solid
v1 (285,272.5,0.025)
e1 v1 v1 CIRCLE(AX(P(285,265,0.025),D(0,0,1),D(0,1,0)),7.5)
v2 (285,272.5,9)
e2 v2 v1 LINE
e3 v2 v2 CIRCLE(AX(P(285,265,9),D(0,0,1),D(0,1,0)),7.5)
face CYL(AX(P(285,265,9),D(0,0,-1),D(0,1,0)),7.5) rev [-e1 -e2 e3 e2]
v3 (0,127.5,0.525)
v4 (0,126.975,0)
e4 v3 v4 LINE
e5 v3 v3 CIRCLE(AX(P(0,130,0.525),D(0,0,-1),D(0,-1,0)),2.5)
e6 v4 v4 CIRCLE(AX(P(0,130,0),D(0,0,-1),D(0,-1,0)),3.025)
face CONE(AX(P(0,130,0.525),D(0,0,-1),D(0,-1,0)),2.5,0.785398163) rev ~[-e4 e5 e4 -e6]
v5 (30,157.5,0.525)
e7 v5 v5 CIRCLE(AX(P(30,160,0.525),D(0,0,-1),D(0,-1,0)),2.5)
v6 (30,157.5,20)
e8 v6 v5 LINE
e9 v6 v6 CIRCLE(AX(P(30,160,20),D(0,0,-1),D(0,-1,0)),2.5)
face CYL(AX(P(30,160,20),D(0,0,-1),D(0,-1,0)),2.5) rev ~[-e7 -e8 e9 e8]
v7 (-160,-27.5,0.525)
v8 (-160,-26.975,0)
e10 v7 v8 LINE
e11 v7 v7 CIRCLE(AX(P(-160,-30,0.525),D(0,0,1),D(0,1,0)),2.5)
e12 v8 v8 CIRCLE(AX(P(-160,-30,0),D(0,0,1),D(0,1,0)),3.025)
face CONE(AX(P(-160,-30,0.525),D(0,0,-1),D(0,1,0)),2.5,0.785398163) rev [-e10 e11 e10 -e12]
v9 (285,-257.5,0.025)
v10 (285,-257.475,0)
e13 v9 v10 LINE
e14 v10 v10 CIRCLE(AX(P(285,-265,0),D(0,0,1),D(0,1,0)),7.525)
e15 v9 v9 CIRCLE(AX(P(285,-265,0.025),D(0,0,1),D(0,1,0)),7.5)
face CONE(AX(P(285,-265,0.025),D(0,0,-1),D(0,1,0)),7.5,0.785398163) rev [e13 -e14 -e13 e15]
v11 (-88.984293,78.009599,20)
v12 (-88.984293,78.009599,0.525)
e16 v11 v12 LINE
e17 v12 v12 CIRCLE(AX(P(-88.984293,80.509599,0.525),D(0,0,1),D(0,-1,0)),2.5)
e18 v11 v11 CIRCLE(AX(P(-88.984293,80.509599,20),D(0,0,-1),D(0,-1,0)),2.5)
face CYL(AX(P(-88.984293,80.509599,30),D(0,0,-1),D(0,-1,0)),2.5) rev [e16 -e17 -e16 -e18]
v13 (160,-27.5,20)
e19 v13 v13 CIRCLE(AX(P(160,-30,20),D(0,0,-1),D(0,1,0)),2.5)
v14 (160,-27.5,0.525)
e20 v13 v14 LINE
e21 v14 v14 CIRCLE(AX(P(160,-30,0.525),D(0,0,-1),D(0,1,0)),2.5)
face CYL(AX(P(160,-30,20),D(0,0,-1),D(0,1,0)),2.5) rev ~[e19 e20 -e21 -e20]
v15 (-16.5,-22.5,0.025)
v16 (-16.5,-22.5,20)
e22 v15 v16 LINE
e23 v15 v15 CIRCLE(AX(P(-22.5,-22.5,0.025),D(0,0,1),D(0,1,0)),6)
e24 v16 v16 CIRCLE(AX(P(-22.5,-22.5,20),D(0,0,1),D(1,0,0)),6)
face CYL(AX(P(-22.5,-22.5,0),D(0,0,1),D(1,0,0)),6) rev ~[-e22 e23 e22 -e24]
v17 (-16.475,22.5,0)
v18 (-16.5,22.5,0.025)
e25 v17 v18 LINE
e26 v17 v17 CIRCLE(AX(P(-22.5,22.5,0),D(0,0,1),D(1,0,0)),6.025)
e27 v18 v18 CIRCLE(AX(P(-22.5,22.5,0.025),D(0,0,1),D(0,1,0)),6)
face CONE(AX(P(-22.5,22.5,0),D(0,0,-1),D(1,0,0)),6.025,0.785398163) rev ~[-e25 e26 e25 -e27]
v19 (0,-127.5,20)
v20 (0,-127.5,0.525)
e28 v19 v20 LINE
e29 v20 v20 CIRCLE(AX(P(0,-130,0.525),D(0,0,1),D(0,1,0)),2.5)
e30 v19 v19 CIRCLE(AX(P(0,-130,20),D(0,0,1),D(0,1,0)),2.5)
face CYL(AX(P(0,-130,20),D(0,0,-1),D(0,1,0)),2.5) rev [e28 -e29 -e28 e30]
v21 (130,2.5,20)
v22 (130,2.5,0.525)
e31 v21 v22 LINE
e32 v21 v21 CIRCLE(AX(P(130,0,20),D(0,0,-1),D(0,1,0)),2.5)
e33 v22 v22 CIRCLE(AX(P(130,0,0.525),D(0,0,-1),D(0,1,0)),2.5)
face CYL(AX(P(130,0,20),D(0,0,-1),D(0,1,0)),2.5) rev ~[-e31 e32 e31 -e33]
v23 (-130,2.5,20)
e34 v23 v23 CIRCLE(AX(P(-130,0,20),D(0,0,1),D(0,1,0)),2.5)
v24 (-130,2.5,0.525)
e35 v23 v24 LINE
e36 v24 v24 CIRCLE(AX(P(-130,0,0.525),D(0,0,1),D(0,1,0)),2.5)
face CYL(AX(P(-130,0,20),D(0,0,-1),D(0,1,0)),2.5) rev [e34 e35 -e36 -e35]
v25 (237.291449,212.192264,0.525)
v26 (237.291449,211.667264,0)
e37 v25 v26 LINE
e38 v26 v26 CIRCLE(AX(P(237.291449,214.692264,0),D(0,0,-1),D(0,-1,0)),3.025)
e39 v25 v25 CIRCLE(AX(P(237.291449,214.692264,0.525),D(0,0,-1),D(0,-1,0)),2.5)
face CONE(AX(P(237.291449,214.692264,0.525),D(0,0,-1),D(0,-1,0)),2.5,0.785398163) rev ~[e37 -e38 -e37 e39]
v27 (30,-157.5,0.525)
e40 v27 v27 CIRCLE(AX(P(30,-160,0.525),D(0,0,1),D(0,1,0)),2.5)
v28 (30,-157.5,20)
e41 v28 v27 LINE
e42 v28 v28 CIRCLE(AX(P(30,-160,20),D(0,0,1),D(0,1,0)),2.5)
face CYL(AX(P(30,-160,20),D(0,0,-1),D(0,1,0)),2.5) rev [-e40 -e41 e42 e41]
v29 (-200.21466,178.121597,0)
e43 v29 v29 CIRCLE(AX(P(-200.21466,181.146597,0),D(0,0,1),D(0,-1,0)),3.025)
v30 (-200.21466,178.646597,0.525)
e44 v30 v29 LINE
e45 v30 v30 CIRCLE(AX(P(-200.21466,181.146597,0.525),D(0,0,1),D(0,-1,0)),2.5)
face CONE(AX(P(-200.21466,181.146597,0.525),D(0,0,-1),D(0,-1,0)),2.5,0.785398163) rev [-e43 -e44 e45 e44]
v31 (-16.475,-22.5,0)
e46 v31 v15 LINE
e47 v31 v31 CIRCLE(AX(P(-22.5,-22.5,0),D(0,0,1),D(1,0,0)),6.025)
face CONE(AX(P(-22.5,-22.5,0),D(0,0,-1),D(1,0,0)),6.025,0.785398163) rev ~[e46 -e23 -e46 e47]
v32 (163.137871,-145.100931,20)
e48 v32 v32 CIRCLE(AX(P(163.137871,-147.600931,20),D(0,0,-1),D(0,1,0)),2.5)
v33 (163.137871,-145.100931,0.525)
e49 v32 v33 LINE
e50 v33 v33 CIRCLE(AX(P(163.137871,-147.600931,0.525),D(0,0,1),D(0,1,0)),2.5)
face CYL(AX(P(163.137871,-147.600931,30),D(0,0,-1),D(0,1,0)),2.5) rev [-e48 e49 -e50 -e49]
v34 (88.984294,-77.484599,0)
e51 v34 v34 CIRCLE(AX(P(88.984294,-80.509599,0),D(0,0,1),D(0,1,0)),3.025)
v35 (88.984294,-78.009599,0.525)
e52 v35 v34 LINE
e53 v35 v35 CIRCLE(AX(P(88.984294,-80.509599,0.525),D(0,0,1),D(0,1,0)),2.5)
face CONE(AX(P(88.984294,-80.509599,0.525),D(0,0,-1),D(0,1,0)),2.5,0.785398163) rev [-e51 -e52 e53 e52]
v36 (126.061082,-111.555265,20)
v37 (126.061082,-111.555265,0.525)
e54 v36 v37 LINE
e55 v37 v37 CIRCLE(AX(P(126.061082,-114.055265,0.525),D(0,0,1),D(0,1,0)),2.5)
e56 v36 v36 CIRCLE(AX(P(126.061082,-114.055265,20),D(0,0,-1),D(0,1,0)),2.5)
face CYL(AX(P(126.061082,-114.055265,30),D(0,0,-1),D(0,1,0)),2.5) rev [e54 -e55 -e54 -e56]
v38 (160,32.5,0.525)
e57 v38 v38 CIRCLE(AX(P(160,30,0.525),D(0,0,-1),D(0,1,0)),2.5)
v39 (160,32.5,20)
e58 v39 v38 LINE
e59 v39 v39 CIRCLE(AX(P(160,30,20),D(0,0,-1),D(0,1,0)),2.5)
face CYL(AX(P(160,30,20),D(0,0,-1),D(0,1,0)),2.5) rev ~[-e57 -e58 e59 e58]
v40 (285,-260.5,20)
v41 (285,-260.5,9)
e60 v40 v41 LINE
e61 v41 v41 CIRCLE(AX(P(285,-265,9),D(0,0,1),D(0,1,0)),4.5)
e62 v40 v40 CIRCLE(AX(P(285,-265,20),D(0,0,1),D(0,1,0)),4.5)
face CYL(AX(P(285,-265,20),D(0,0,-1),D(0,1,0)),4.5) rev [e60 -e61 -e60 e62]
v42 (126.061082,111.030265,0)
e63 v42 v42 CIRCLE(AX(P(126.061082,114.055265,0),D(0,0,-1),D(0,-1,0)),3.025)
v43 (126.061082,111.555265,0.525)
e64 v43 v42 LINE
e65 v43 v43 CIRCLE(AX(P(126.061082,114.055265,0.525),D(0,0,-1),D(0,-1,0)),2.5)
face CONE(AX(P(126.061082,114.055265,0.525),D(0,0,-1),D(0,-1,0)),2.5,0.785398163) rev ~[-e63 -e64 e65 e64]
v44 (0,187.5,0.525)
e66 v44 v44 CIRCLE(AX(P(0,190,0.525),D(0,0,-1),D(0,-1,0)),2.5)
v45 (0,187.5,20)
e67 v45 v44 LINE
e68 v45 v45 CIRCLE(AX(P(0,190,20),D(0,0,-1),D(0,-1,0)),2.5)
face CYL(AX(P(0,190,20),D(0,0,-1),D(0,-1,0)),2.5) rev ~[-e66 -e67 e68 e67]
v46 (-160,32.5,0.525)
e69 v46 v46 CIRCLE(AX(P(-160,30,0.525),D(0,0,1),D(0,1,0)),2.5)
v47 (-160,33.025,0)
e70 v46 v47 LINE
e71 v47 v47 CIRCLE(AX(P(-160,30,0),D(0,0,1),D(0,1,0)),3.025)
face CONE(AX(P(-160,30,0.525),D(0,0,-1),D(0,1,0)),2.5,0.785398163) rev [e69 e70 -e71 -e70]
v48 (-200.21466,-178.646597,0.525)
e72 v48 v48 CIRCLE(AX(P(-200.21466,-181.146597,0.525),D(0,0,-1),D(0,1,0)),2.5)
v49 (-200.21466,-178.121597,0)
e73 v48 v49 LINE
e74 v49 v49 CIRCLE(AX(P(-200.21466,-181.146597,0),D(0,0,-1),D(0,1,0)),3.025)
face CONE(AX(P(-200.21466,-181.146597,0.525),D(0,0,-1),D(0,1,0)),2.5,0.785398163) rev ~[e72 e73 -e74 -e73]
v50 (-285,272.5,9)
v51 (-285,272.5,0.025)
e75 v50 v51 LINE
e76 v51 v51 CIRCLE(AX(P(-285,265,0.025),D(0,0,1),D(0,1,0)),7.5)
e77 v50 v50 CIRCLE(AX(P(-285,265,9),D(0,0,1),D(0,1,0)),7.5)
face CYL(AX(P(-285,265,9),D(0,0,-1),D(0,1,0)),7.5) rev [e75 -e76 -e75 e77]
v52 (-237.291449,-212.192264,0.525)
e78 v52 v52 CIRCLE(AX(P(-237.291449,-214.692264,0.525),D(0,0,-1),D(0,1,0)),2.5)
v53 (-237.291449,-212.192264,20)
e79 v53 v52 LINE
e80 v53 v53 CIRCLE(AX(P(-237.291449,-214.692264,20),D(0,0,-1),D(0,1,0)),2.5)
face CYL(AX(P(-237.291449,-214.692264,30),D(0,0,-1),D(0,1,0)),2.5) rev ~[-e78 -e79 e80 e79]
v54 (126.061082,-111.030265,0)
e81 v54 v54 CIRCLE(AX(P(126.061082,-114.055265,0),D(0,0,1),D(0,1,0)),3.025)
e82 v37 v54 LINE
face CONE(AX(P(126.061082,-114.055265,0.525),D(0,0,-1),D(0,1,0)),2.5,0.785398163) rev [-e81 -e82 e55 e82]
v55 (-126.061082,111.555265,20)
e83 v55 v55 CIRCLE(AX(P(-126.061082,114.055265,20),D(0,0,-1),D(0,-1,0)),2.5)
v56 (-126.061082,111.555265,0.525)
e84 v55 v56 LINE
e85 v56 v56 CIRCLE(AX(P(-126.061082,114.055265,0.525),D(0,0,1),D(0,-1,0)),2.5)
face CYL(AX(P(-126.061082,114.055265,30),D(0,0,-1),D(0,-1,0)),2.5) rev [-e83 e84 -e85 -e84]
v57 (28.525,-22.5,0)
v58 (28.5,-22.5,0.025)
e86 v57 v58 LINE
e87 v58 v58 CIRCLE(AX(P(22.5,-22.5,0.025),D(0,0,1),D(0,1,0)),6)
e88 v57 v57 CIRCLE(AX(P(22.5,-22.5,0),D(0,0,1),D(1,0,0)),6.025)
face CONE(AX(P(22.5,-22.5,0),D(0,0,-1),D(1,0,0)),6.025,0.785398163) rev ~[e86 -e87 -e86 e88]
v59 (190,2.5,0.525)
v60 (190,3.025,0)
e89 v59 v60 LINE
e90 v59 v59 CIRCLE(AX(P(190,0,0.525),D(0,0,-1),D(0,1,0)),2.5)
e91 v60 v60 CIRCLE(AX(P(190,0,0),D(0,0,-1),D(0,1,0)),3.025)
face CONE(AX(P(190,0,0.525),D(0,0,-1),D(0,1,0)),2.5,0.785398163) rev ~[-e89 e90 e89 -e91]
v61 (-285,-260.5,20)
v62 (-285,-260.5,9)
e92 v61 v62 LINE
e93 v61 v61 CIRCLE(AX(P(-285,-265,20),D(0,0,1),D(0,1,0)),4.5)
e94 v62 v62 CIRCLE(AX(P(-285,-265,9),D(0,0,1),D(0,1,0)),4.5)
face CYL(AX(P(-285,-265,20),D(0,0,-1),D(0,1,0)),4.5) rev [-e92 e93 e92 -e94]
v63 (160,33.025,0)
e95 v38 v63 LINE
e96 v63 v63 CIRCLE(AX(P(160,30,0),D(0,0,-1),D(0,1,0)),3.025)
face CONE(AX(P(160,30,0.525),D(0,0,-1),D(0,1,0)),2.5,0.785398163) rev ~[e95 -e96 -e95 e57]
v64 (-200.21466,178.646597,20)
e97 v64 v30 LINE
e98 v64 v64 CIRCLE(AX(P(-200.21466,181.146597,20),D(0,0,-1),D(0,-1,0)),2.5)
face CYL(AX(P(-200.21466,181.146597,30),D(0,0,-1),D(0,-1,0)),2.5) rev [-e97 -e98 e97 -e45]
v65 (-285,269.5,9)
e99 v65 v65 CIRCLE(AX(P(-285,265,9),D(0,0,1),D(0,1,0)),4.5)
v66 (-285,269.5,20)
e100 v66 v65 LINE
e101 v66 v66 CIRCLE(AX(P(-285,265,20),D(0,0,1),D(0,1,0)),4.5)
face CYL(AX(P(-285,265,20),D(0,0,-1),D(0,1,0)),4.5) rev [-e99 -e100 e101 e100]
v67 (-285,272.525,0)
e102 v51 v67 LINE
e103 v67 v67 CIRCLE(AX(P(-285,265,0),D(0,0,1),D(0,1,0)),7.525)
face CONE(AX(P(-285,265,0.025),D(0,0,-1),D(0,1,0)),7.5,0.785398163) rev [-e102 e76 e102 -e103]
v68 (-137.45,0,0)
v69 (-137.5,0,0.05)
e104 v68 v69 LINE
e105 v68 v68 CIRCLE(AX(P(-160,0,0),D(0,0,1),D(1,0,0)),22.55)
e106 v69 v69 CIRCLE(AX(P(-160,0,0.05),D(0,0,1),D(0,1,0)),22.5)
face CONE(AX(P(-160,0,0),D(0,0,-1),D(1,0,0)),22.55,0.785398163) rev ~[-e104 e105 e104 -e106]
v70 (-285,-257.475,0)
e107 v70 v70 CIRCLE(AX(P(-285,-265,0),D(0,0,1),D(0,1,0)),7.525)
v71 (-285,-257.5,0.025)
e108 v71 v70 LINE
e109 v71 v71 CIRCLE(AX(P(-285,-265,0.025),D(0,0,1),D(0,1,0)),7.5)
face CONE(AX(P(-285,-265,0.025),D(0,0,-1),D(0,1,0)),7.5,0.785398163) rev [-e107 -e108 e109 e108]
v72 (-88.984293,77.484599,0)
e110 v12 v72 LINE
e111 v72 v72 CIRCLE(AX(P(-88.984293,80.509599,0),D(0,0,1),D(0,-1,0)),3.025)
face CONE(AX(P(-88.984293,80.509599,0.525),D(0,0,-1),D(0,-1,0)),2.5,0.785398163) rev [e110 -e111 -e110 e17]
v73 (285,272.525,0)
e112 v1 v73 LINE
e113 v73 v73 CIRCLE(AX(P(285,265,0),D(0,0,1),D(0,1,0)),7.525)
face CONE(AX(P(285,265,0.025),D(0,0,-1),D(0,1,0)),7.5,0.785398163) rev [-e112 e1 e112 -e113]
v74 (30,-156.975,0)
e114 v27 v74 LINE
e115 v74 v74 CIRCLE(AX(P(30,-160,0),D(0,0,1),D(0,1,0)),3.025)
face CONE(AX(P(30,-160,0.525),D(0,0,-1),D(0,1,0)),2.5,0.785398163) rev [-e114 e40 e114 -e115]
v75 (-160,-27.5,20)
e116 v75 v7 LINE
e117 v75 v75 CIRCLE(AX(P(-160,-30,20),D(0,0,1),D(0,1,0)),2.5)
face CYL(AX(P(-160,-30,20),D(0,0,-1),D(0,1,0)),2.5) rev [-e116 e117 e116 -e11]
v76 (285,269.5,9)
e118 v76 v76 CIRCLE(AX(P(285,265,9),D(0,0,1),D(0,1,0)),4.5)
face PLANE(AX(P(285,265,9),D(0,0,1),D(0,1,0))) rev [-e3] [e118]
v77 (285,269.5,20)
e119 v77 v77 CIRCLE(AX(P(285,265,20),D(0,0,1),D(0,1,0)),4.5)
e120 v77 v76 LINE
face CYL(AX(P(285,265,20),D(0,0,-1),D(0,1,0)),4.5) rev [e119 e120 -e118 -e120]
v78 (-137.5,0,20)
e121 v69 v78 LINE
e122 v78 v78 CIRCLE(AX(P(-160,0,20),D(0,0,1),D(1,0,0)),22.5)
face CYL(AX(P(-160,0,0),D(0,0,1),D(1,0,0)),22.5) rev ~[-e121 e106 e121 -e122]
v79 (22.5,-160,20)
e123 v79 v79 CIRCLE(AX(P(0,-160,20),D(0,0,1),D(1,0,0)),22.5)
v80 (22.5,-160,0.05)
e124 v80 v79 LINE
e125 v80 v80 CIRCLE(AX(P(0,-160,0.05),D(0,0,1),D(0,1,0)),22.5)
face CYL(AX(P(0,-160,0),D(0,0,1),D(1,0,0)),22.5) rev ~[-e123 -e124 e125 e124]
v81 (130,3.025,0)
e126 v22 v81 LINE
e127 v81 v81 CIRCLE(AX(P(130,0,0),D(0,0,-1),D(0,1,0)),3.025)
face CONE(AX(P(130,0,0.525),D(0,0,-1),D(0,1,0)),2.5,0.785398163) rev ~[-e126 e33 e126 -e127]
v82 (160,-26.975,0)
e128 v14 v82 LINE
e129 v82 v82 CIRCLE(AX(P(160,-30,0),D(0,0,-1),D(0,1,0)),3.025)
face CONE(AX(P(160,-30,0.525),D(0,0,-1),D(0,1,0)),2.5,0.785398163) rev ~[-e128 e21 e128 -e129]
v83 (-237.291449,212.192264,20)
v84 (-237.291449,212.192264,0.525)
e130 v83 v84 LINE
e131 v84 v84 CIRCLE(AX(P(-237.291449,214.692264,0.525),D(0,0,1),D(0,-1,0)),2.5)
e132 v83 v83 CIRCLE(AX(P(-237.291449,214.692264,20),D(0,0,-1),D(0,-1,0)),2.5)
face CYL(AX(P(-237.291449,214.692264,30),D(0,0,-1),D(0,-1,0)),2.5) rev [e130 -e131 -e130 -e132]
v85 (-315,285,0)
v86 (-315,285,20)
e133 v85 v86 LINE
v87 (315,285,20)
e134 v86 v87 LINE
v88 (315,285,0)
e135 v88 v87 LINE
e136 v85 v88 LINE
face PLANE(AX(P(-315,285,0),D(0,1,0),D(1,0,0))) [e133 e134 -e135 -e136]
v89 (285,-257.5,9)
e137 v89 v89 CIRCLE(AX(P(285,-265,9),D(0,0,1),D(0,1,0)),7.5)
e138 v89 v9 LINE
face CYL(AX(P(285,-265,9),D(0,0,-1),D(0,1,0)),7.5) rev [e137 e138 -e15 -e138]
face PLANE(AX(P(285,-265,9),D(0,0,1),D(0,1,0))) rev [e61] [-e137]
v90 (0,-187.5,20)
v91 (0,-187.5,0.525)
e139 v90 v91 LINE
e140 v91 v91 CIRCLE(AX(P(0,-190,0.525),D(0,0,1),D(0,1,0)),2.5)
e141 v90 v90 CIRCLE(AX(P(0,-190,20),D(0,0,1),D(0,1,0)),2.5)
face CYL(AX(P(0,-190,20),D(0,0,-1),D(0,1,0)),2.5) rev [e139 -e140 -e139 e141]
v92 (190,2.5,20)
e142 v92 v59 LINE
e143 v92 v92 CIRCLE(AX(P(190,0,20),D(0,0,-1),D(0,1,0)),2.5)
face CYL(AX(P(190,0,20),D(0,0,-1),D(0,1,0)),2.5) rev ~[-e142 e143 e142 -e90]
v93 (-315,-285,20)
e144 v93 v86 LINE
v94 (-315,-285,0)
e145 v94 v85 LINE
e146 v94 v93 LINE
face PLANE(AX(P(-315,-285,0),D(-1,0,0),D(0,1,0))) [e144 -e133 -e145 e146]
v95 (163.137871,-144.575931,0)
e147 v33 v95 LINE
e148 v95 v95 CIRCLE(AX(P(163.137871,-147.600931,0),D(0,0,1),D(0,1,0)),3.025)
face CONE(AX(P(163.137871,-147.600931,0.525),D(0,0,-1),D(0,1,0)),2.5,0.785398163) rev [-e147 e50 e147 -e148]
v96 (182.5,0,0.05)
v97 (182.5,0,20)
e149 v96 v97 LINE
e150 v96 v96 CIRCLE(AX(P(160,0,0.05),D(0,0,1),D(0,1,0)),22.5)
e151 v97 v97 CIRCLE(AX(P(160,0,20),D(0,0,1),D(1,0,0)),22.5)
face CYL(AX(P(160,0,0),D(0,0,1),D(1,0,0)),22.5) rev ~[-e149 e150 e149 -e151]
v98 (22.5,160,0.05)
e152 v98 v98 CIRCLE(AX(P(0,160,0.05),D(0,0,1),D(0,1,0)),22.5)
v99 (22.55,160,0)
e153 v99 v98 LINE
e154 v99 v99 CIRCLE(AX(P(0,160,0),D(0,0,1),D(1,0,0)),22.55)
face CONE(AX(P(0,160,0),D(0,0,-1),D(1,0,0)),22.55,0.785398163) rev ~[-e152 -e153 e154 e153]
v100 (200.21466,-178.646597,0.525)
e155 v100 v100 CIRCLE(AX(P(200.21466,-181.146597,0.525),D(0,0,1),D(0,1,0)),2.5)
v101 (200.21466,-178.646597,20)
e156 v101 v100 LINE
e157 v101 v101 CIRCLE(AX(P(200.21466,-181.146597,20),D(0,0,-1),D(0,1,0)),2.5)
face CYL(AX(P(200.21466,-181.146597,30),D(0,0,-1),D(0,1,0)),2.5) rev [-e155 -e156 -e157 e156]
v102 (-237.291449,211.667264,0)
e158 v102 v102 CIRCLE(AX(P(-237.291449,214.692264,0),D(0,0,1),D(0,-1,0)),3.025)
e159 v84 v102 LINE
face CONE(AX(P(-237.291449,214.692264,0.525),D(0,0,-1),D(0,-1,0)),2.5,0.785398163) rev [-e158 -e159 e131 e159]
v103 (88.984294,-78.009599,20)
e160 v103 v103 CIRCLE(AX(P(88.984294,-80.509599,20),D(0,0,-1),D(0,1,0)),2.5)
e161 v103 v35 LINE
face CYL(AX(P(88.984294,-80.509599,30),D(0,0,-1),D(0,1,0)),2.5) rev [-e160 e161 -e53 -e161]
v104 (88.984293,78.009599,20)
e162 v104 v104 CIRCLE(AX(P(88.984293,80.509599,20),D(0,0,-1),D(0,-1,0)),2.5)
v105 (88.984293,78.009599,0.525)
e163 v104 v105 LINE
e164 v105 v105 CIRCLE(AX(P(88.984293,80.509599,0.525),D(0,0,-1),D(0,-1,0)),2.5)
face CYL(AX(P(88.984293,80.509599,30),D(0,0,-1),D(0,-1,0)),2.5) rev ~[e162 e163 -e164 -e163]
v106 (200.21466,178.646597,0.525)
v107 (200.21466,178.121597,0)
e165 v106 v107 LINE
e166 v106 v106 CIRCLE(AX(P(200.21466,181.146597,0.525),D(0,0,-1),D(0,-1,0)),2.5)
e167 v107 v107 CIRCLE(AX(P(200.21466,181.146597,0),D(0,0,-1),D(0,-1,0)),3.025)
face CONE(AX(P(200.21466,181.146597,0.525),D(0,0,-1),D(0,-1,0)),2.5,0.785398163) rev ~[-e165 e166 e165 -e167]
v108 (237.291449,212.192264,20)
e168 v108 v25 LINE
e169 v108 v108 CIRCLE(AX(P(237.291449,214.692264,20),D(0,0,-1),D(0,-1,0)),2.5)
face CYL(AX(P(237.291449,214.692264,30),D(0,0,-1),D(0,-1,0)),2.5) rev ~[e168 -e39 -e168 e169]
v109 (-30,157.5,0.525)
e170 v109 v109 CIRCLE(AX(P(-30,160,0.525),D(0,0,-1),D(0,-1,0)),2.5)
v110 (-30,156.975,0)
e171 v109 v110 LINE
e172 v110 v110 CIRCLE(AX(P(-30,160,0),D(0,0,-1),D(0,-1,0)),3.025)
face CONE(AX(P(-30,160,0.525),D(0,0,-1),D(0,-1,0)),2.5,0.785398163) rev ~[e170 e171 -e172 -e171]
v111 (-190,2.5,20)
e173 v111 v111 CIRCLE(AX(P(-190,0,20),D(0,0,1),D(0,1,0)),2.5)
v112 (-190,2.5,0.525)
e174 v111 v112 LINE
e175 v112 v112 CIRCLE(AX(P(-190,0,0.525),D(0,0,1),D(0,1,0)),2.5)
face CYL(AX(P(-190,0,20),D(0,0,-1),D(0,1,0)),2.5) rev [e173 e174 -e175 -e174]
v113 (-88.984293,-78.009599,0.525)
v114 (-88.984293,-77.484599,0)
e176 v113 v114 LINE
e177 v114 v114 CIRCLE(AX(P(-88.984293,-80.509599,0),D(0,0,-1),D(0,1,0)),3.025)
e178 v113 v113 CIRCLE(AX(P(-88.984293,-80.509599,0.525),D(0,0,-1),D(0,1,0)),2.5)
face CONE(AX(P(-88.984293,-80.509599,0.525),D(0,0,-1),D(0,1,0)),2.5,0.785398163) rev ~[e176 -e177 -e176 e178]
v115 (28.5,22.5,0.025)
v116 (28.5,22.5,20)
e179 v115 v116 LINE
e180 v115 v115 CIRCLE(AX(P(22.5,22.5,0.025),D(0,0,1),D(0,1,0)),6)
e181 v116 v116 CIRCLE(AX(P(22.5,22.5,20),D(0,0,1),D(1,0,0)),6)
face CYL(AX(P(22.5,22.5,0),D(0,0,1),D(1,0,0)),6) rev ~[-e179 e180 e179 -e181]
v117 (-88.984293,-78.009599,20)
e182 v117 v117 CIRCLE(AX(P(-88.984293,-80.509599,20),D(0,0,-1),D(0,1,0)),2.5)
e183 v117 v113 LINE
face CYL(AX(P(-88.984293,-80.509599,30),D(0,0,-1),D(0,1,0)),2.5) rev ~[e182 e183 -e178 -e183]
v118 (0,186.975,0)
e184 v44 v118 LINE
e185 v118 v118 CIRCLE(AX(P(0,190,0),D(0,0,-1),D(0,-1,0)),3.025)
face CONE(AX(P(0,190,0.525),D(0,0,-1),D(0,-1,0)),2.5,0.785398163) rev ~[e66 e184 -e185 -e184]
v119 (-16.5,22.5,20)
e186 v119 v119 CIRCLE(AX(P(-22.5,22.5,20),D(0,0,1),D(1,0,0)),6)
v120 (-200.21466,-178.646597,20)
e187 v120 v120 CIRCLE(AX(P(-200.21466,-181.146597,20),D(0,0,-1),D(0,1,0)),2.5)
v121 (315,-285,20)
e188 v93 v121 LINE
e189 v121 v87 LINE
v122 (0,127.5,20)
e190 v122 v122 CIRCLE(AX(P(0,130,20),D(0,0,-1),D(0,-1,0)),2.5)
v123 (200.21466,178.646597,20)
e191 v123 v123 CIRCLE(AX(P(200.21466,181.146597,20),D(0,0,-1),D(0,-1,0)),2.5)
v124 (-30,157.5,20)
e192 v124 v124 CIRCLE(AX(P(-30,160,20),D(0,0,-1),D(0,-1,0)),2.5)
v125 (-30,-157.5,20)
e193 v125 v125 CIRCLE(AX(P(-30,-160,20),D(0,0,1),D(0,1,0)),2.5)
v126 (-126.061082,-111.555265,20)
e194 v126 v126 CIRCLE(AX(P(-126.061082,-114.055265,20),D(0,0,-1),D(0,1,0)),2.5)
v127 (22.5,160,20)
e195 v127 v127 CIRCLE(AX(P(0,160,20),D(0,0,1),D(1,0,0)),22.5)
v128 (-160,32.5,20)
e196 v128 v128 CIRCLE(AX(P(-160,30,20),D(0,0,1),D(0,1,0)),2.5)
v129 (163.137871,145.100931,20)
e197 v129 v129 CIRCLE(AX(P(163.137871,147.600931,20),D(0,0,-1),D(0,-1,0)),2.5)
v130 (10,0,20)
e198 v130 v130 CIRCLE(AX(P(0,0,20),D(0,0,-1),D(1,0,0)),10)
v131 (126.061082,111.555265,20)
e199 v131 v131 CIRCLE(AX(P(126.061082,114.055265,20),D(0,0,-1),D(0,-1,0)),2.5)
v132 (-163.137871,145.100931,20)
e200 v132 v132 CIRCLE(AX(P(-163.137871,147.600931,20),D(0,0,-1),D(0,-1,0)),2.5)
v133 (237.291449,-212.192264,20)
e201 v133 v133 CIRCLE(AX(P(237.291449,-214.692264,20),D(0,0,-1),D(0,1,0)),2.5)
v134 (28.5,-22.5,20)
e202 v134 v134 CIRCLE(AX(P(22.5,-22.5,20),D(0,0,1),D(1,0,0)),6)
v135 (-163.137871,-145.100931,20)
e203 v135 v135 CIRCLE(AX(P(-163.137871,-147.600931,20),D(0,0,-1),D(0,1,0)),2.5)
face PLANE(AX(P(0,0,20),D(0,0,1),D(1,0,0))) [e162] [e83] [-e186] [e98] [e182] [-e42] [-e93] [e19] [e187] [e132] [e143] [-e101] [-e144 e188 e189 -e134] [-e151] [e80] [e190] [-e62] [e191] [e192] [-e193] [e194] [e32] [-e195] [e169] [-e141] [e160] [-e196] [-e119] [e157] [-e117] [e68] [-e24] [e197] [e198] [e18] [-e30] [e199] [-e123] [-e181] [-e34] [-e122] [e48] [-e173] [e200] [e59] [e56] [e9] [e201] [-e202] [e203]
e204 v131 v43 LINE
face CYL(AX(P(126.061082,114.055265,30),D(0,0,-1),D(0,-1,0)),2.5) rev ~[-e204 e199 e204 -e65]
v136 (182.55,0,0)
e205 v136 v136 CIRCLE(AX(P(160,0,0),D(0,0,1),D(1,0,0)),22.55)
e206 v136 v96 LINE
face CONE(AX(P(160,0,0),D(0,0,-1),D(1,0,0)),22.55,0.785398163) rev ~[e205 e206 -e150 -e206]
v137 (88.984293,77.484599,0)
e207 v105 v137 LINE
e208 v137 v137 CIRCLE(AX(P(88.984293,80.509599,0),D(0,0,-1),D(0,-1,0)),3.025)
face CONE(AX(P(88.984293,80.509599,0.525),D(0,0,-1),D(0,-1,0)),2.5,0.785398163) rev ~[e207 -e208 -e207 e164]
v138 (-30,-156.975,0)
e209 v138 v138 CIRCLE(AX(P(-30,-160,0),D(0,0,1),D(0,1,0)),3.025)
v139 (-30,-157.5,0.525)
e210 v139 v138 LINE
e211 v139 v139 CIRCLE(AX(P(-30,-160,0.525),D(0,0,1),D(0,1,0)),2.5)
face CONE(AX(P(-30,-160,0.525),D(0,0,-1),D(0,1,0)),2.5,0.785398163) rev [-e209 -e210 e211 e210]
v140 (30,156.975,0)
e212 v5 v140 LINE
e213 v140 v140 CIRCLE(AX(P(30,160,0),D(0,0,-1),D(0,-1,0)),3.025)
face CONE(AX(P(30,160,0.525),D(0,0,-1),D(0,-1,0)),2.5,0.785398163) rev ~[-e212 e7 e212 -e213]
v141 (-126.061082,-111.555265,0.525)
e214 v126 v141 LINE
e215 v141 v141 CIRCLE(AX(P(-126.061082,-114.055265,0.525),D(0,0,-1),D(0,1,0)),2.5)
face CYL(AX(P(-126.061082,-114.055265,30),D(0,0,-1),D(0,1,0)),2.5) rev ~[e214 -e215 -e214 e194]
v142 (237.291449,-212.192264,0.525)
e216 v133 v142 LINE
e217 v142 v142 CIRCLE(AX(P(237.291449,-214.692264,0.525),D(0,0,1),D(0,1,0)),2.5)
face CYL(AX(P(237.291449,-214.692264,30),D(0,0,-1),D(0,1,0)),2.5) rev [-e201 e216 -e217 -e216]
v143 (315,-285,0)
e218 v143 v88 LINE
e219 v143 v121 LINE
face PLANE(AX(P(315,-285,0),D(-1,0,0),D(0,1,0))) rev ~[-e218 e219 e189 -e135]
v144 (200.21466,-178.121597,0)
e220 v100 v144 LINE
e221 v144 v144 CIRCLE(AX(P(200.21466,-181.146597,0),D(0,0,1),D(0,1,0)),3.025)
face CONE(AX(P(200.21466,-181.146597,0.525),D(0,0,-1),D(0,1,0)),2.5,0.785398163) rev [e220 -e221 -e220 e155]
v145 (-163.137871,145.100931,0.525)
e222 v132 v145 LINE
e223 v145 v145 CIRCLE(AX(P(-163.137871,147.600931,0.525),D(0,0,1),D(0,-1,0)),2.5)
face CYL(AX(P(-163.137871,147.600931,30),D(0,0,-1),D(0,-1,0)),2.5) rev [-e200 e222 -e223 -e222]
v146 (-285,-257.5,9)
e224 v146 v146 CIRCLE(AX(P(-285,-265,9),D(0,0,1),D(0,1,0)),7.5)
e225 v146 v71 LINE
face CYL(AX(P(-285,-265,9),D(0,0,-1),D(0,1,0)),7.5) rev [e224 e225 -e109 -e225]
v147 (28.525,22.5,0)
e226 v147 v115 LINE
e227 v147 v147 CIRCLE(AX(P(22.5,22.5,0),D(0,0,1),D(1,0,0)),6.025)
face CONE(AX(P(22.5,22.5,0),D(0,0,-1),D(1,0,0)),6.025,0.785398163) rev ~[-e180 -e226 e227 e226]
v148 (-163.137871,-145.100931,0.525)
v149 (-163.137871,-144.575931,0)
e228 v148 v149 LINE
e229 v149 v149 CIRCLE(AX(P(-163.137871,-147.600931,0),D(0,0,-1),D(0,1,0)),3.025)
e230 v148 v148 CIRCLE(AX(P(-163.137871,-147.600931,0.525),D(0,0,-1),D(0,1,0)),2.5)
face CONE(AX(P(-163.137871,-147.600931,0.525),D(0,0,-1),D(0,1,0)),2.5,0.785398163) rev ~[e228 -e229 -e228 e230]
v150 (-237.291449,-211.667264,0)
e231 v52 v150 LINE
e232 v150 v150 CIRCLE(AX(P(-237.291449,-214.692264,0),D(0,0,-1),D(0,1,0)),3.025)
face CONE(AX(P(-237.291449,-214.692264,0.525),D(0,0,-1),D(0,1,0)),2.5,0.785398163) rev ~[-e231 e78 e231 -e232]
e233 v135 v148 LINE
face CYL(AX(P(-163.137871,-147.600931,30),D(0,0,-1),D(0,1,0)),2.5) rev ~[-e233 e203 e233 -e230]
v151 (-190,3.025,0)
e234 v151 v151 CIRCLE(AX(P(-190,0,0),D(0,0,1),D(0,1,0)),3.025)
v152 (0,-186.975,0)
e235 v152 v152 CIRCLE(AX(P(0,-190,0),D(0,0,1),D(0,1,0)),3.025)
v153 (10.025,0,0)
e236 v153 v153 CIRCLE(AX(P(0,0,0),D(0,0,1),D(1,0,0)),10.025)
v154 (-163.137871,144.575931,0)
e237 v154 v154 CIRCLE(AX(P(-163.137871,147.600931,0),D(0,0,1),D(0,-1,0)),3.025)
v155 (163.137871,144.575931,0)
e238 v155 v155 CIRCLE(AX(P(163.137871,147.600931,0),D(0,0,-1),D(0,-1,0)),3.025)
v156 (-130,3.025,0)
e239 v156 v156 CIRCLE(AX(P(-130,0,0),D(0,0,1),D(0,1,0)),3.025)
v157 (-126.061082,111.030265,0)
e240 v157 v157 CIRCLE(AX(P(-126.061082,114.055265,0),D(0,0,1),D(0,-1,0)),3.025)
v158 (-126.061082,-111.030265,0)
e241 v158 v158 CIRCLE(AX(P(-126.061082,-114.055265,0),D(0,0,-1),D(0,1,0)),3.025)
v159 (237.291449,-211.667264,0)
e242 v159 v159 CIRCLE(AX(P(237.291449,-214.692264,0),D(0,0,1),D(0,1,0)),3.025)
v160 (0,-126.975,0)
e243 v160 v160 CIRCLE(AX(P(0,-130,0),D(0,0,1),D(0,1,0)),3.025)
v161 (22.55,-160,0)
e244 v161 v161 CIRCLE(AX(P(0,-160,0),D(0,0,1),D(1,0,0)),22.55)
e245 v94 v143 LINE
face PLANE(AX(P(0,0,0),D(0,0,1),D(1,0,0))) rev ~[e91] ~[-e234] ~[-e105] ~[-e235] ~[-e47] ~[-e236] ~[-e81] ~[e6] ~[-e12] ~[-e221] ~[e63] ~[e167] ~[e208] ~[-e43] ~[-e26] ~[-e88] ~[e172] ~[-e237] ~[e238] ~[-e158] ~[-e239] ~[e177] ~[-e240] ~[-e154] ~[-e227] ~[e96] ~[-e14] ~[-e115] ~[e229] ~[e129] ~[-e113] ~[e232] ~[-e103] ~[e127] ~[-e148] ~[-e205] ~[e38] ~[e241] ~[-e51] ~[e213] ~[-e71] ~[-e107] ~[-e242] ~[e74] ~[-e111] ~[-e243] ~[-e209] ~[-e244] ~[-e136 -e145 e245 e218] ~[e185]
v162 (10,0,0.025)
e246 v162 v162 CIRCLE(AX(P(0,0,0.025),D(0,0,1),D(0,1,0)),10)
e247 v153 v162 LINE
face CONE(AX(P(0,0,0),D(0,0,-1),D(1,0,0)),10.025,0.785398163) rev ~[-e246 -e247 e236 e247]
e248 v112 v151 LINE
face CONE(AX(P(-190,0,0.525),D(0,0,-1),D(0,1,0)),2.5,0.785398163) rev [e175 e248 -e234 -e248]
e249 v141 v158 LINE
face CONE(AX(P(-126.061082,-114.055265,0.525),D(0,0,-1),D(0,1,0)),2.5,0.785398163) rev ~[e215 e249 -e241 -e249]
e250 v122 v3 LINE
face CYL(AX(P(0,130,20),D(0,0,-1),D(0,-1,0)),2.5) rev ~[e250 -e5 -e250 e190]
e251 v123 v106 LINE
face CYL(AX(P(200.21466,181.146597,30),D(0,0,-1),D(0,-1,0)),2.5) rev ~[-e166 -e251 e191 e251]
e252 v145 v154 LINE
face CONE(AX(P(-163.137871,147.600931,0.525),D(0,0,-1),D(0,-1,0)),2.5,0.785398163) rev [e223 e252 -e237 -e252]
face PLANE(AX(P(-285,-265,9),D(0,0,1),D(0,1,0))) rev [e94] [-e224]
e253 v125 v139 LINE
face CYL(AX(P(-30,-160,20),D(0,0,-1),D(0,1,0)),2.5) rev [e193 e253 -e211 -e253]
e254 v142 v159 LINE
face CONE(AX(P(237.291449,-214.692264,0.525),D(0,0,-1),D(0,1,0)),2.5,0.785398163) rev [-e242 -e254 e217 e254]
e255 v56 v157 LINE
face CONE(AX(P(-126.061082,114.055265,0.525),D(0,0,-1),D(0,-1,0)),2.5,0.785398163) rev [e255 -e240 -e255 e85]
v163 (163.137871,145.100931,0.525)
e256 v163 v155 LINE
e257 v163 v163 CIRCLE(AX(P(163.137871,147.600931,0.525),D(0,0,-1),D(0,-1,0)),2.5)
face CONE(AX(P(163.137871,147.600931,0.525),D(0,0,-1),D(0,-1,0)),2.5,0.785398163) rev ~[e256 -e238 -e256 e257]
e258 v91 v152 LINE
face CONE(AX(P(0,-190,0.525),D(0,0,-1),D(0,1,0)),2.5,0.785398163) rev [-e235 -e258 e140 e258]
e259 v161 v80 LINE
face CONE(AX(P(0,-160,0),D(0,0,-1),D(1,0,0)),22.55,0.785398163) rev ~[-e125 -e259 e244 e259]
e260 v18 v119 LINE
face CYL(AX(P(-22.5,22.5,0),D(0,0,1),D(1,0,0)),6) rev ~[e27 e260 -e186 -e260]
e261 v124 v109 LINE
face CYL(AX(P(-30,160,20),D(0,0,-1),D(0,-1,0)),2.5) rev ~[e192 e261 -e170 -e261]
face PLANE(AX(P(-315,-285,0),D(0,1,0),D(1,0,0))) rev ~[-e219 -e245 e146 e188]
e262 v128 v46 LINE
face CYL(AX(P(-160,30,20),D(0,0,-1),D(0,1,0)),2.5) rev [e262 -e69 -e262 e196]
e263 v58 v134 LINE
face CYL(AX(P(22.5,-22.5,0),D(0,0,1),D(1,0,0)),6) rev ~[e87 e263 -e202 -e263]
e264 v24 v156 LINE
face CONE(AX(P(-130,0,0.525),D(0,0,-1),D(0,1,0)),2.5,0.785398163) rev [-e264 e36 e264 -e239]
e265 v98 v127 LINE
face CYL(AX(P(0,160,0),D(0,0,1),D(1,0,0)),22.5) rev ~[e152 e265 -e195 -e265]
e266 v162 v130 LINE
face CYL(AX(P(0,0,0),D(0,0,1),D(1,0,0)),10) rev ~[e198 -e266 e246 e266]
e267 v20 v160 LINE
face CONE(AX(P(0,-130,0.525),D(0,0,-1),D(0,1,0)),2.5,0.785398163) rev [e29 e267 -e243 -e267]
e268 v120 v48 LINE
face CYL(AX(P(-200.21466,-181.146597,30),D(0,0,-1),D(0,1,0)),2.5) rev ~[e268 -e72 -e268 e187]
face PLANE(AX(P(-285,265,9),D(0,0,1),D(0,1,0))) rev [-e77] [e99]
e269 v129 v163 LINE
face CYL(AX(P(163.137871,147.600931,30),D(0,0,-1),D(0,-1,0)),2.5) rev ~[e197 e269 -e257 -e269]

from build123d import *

# Parameters (mm, degrees)
SKETCH_1_W                  = 630
SKETCH_1_H                  = 570
EXTRUDE_1_DEPTH             = 20
MM_2_D                      = 20
MM_2_DEPTH                  = 20
MM_2_CSINK_D                = 20.05
MM_2_CSINK_ANGLE            = 90
MM_2_TIP                    = 6.00860619
HOLE_WIZARD_1_AT_2_COUNT    = 2
HOLE_WIZARD_1_AT_2_PITCH    = 570
HOLE_WIZARD_1_AT_3_COUNT    = 2
HOLE_WIZARD_1_AT_3_PITCH    = 778.331548892
HOLE_WIZARD_1_AT_4_COUNT    = 2
HOLE_WIZARD_1_AT_4_PITCH    = 530
HOLE_WIZARD_M6_1_AT_2_COUNT = 2
HOLE_WIZARD_M6_1_AT_2_PITCH = 50
HOLE_WIZARD_M6_1_AT_3_COUNT = 2
HOLE_WIZARD_M6_1_AT_3_PITCH = 100
HOLE_WIZARD_M6_1_AT_4_COUNT = 2
HOLE_WIZARD_M6_1_AT_4_PITCH = 150
HOLE_WIZARD_M6_1_AT_5_COUNT = 2
HOLE_WIZARD_M6_1_AT_5_PITCH = 200
MM_4_D                      = 12
MM_4_DEPTH                  = 22
MM_4_CSINK_D                = 12.05
MM_4_CSINK_ANGLE            = 90
MM_4_TIP                    = 3.605163714
MM_1_D                      = 45
MM_1_DEPTH                  = 24.5
MM_1_CSINK_D                = 45.1
MM_1_CSINK_ANGLE            = 90
MM_1_TIP                    = 13.519363928
HOLE_WIZARD_M6_2_AT_2_COUNT = 2
HOLE_WIZARD_M6_2_AT_2_PITCH = 42.426406871
HOLE_WIZARD_M6_2_AT_3_COUNT = 2
HOLE_WIZARD_M6_2_AT_3_PITCH = 60
HOLE_WIZARD_M6_2_AT_4_COUNT = 2
HOLE_WIZARD_M6_2_AT_4_PITCH = 42.426406871
HOLE_WIZARD_M6_3_AT_2_COUNT = 2
HOLE_WIZARD_M6_3_AT_2_PITCH = 42.426406871
HOLE_WIZARD_M6_3_AT_3_COUNT = 2
HOLE_WIZARD_M6_3_AT_3_PITCH = 60
HOLE_WIZARD_M6_3_AT_4_COUNT = 2
HOLE_WIZARD_M6_3_AT_4_PITCH = 42.426406871


with BuildPart() as part:
    # 草图1 → 凸台-拉伸1 (new body)
    with BuildSketch(Plane.XY):
        Rectangle(SKETCH_1_W, SKETCH_1_H)
    extrude(amount=EXTRUDE_1_DEPTH)

    # 大小mm 暗销槽口2
    with Locations(Plane(origin=(0, 0, 0), x_dir=(-1, 0, 0), z_dir=(0, 0, -1))):
        with Locations((0, 0)):
            CounterSinkHole(MM_2_D / 2, MM_2_CSINK_D / 2, depth=MM_2_DEPTH, counter_sink_angle=MM_2_CSINK_ANGLE)
            with Locations((0, 0, -(MM_2_DEPTH + MM_2_TIP / 2))):  # 118° drill point
                Cone(0, MM_2_D / 2, MM_2_TIP, mode=Mode.SUBTRACT)

    # 草图5 → 打孔尺寸(%根据)内六角圆柱头螺钉的类型1 (revolve, cut)
    with BuildSketch(Plane(origin=(285, 265, 0), x_dir=(0, 1, 0), z_dir=(1, 0, 0))):
        Polygon((0, 0), (0, 22.703872786), (4.5, 20), (4.5, 9), (7.5, 9), (7.5, 0.025), (7.525, 0), align=None)
    hole_wizard_1 = revolve(axis=Axis((285, 265, -6.35), (0, 0, 1)), mode=Mode.SUBTRACT)

    # 打孔尺寸(%根据)内六角圆柱头螺钉的类型1 at 2: 打孔尺寸(%根据)内六角圆柱头螺钉的类型1 ×2
    with Locations(*[(-i * HOLE_WIZARD_1_AT_2_PITCH, 0, 0) for i in range(1, HOLE_WIZARD_1_AT_2_COUNT)]):
        add(hole_wizard_1, mode=Mode.SUBTRACT)

    # 打孔尺寸(%根据)内六角圆柱头螺钉的类型1 at 3: 打孔尺寸(%根据)内六角圆柱头螺钉的类型1 ×2
    with Locations(*[Vector(-0.732335726, -0.680943745, 0) * (i * HOLE_WIZARD_1_AT_3_PITCH) for i in range(1, HOLE_WIZARD_1_AT_3_COUNT)]):
        add(hole_wizard_1, mode=Mode.SUBTRACT)

    # 打孔尺寸(%根据)内六角圆柱头螺钉的类型1 at 4: 打孔尺寸(%根据)内六角圆柱头螺钉的类型1 ×2
    with Locations(*[(0, -i * HOLE_WIZARD_1_AT_4_PITCH, 0) for i in range(1, HOLE_WIZARD_1_AT_4_COUNT)]):
        add(hole_wizard_1, mode=Mode.SUBTRACT)

    # 草图6 → M6 螺纹孔1 (revolve, cut)
    with BuildSketch(Plane(origin=(237.29144932, -214.69226367, 0), x_dir=(0, 1, 0), z_dir=(1, 0, 0))):
        Polygon((0, 0), (0, 31.502151548), (2.5, 30), (2.5, 0.525), (3.025, 0), align=None)
    hole_wizard_m6_1 = revolve(axis=Axis((237.29144932, -214.69226367, -6.35), (0, 0, 1)), mode=Mode.SUBTRACT)

    # M6 螺纹孔1 at 2: M6 螺纹孔1 ×2
    with Locations(*[Vector(-0.741535779, 0.670913324, 0) * (i * HOLE_WIZARD_M6_1_AT_2_PITCH) for i in range(1, HOLE_WIZARD_M6_1_AT_2_COUNT)]):
        add(hole_wizard_m6_1, mode=Mode.SUBTRACT)

    # M6 螺纹孔1 at 3: M6 螺纹孔1 ×2
    with Locations(*[Vector(-0.741535779, 0.670913324, 0) * (i * HOLE_WIZARD_M6_1_AT_3_PITCH) for i in range(1, HOLE_WIZARD_M6_1_AT_3_COUNT)]):
        add(hole_wizard_m6_1, mode=Mode.SUBTRACT)

    # M6 螺纹孔1 at 4: M6 螺纹孔1 ×2
    with Locations(*[Vector(-0.741535779, 0.670913324, 0) * (i * HOLE_WIZARD_M6_1_AT_4_PITCH) for i in range(1, HOLE_WIZARD_M6_1_AT_4_COUNT)]):
        add(hole_wizard_m6_1, mode=Mode.SUBTRACT)

    # M6 螺纹孔1 at 5: M6 螺纹孔1 ×2
    with Locations(*[Vector(-0.741535779, 0.670913324, 0) * (i * HOLE_WIZARD_M6_1_AT_5_PITCH) for i in range(1, HOLE_WIZARD_M6_1_AT_5_COUNT)]):
        add(hole_wizard_m6_1, mode=Mode.SUBTRACT)

    # 镜向1: M6 螺纹孔1 across plane
    add(hole_wizard_m6_1.mirror(Plane(origin=(0, 0, 0), x_dir=(0, 0, 1), z_dir=(1, 0, 0))), mode=Mode.SUBTRACT)

    # 镜向1 copy 1 sketch → 镜向1 copy 1 (revolve, cut)
    with BuildSketch(Plane(origin=(-200.214660363, -181.146597472, 0), x_dir=(0, 1, 0), z_dir=(-1, 0, 0))):
        Polygon((0, 0), (0, -31.502151548), (2.5, -30), (2.5, -0.525), (3.025, 0), align=None)
    revolve(axis=Axis((-200.214660363, -181.146597472, -6.35), (0, 0, -1)), mode=Mode.SUBTRACT)

    # 镜向1 copy 2 sketch → 镜向1 copy 2 (revolve, cut)
    with BuildSketch(Plane(origin=(-163.137871407, -147.600931273, 0), x_dir=(0, 1, 0), z_dir=(-1, 0, 0))):
        Polygon((0, 0), (0, -31.502151548), (2.5, -30), (2.5, -0.525), (3.025, 0), align=None)
    revolve(axis=Axis((-163.137871407, -147.600931273, -6.35), (0, 0, -1)), mode=Mode.SUBTRACT)

    # 镜向1 copy 3 sketch → 镜向1 copy 3 (revolve, cut)
    with BuildSketch(Plane(origin=(-126.061082451, -114.055265075, 0), x_dir=(0, 1, 0), z_dir=(-1, 0, 0))):
        Polygon((0, 0), (0, -31.502151548), (2.5, -30), (2.5, -0.525), (3.025, 0), align=None)
    revolve(axis=Axis((-126.061082451, -114.055265075, -6.35), (0, 0, -1)), mode=Mode.SUBTRACT)

    # 镜向1 copy 4 sketch → 镜向1 copy 4 (revolve, cut)
    with BuildSketch(Plane(origin=(-88.984293495, -80.509598876, 0), x_dir=(0, 1, 0), z_dir=(-1, 0, 0))):
        Polygon((0, 0), (0, -31.502151548), (2.5, -30), (2.5, -0.525), (3.025, 0), align=None)
    revolve(axis=Axis((-88.984293495, -80.509598876, -6.35), (0, 0, -1)), mode=Mode.SUBTRACT)

    # 镜向2: M6 螺纹孔1 across plane
    add(hole_wizard_m6_1.mirror(Plane.ZX), mode=Mode.SUBTRACT)

    # 镜向2 copy 1 sketch → 镜向2 copy 1 (revolve, cut)
    with BuildSketch(Plane(origin=(200.214660363, 181.146597472, 0), x_dir=(0, -1, 0), z_dir=(1, 0, 0))):
        Polygon((0, 0), (0, -31.502151548), (2.5, -30), (2.5, -0.525), (3.025, 0), align=None)
    revolve(axis=Axis((200.214660363, 181.146597472, -6.35), (0, 0, -1)), mode=Mode.SUBTRACT)

    # 镜向2 copy 2 sketch → 镜向2 copy 2 (revolve, cut)
    with BuildSketch(Plane(origin=(163.137871407, 147.600931273, 0), x_dir=(0, -1, 0), z_dir=(1, 0, 0))):
        Polygon((0, 0), (0, -31.502151548), (2.5, -30), (2.5, -0.525), (3.025, 0), align=None)
    revolve(axis=Axis((163.137871407, 147.600931273, -6.35), (0, 0, -1)), mode=Mode.SUBTRACT)

    # 镜向2 copy 3 sketch → 镜向2 copy 3 (revolve, cut)
    with BuildSketch(Plane(origin=(126.061082451, 114.055265075, 0), x_dir=(0, -1, 0), z_dir=(1, 0, 0))):
        Polygon((0, 0), (0, -31.502151548), (2.5, -30), (2.5, -0.525), (3.025, 0), align=None)
    revolve(axis=Axis((126.061082451, 114.055265075, -6.35), (0, 0, -1)), mode=Mode.SUBTRACT)

    # 镜向2 copy 4 sketch → 镜向2 copy 4 (revolve, cut)
    with BuildSketch(Plane(origin=(88.984293495, 80.509598876, 0), x_dir=(0, -1, 0), z_dir=(1, 0, 0))):
        Polygon((0, 0), (0, -31.502151548), (2.5, -30), (2.5, -0.525), (3.025, 0), align=None)
    revolve(axis=Axis((88.984293495, 80.509598876, -6.35), (0, 0, -1)), mode=Mode.SUBTRACT)

    # 镜向2 copy 5 sketch → 镜向2 copy 5 (revolve, cut)
    with BuildSketch(Plane(origin=(-237.29144932, 214.69226367, 0), x_dir=(0, -1, 0), z_dir=(-1, 0, 0))):
        Polygon((0, 0), (0, 31.502151548), (2.5, 30), (2.5, 0.525), (3.025, 0), align=None)
    revolve(axis=Axis((-237.29144932, 214.69226367, -6.35), (0, 0, 1)), mode=Mode.SUBTRACT)

    # 镜向2 copy 6 sketch → 镜向2 copy 6 (revolve, cut)
    with BuildSketch(Plane(origin=(-200.214660363, 181.146597472, 0), x_dir=(0, -1, 0), z_dir=(-1, 0, 0))):
        Polygon((0, 0), (0, 31.502151548), (2.5, 30), (2.5, 0.525), (3.025, 0), align=None)
    revolve(axis=Axis((-200.214660363, 181.146597472, -6.35), (0, 0, 1)), mode=Mode.SUBTRACT)

    # 镜向2 copy 7 sketch → 镜向2 copy 7 (revolve, cut)
    with BuildSketch(Plane(origin=(-163.137871407, 147.600931273, 0), x_dir=(0, -1, 0), z_dir=(-1, 0, 0))):
        Polygon((0, 0), (0, 31.502151548), (2.5, 30), (2.5, 0.525), (3.025, 0), align=None)
    revolve(axis=Axis((-163.137871407, 147.600931273, -6.35), (0, 0, 1)), mode=Mode.SUBTRACT)

    # 镜向2 copy 8 sketch → 镜向2 copy 8 (revolve, cut)
    with BuildSketch(Plane(origin=(-126.061082451, 114.055265075, 0), x_dir=(0, -1, 0), z_dir=(-1, 0, 0))):
        Polygon((0, 0), (0, 31.502151548), (2.5, 30), (2.5, 0.525), (3.025, 0), align=None)
    revolve(axis=Axis((-126.061082451, 114.055265075, -6.35), (0, 0, 1)), mode=Mode.SUBTRACT)

    # 镜向2 copy 9 sketch → 镜向2 copy 9 (revolve, cut)
    with BuildSketch(Plane(origin=(-88.984293495, 80.509598876, 0), x_dir=(0, -1, 0), z_dir=(-1, 0, 0))):
        Polygon((0, 0), (0, 31.502151548), (2.5, 30), (2.5, 0.525), (3.025, 0), align=None)
    revolve(axis=Axis((-88.984293495, 80.509598876, -6.35), (0, 0, 1)), mode=Mode.SUBTRACT)

    # 大小mm 暗销槽口4
    with Locations(Plane(origin=(0, 0, 0), x_dir=(-1, 0, 0), z_dir=(0, 0, -1))):
        with Locations((22.5, 22.5), (22.5, -22.5), (-22.5, -22.5), (-22.5, 22.5)):
            CounterSinkHole(MM_4_D / 2, MM_4_CSINK_D / 2, depth=MM_4_DEPTH, counter_sink_angle=MM_4_CSINK_ANGLE)
            with Locations((0, 0, -(MM_4_DEPTH + MM_4_TIP / 2))):  # 118° drill point
                Cone(0, MM_4_D / 2, MM_4_TIP, mode=Mode.SUBTRACT)

    # 大小mm 暗销孔1
    with Locations(Plane(origin=(160, 0, 0), x_dir=(-1, 0, 0), z_dir=(0, 0, -1))):
        with Locations((0, 0), (160, 160), (320, 0), (160, -160)):
            CounterSinkHole(MM_1_D / 2, MM_1_CSINK_D / 2, depth=MM_1_DEPTH, counter_sink_angle=MM_1_CSINK_ANGLE)
            with Locations((0, 0, -(MM_1_DEPTH + MM_1_TIP / 2))):  # 118° drill point
                Cone(0, MM_1_D / 2, MM_1_TIP, mode=Mode.SUBTRACT)

    # 草图10 → M6 螺纹孔2 (revolve, cut)
    with BuildSketch(Plane(origin=(-160, 30, 0), x_dir=(0, 1, 0), z_dir=(1, 0, 0))):
        Polygon((0, 0), (0, 21.502151548), (2.5, 20), (2.5, 0.525), (3.025, 0), align=None)
    hole_wizard_m6_2 = revolve(axis=Axis((-160, 30, -6.35), (0, 0, 1)), mode=Mode.SUBTRACT)

    # M6 螺纹孔2 at 2: M6 螺纹孔2 ×2
    with Locations(*[Vector(-0.707106781, -0.707106781, 0) * (i * HOLE_WIZARD_M6_2_AT_2_PITCH) for i in range(1, HOLE_WIZARD_M6_2_AT_2_COUNT)]):
        add(hole_wizard_m6_2, mode=Mode.SUBTRACT)

    # M6 螺纹孔2 at 3: M6 螺纹孔2 ×2
    with Locations(*[(0, -i * HOLE_WIZARD_M6_2_AT_3_PITCH, 0) for i in range(1, HOLE_WIZARD_M6_2_AT_3_COUNT)]):
        add(hole_wizard_m6_2, mode=Mode.SUBTRACT)

    # M6 螺纹孔2 at 4: M6 螺纹孔2 ×2
    with Locations(*[Vector(0.707106781, -0.707106781, 0) * (i * HOLE_WIZARD_M6_2_AT_4_PITCH) for i in range(1, HOLE_WIZARD_M6_2_AT_4_COUNT)]):
        add(hole_wizard_m6_2, mode=Mode.SUBTRACT)

    # 镜向3: M6 螺纹孔2 across plane
    add(hole_wizard_m6_2.mirror(Plane(origin=(0, 0, 0), x_dir=(0, 0, 1), z_dir=(1, 0, 0))), mode=Mode.SUBTRACT)

    # 镜向3 copy 1 sketch → 镜向3 copy 1 (revolve, cut)
    with BuildSketch(Plane(origin=(190, 0, 0), x_dir=(0, 1, 0), z_dir=(-1, 0, 0))):
        Polygon((0, 0), (0, -21.502151548), (2.5, -20), (2.5, -0.525), (3.025, 0), align=None)
    revolve(axis=Axis((190, 0, -6.35), (0, 0, -1)), mode=Mode.SUBTRACT)

    # 镜向3 copy 2 sketch → 镜向3 copy 2 (revolve, cut)
    with BuildSketch(Plane(origin=(160, -30, 0), x_dir=(0, 1, 0), z_dir=(-1, 0, 0))):
        Polygon((0, 0), (0, -21.502151548), (2.5, -20), (2.5, -0.525), (3.025, 0), align=None)
    revolve(axis=Axis((160, -30, -6.35), (0, 0, -1)), mode=Mode.SUBTRACT)

    # 镜向3 copy 3 sketch → 镜向3 copy 3 (revolve, cut)
    with BuildSketch(Plane(origin=(130, 0, 0), x_dir=(0, 1, 0), z_dir=(-1, 0, 0))):
        Polygon((0, 0), (0, -21.502151548), (2.5, -20), (2.5, -0.525), (3.025, 0), align=None)
    revolve(axis=Axis((130, 0, -6.35), (0, 0, -1)), mode=Mode.SUBTRACT)

    # 草图11 → M6 螺纹孔3 (revolve, cut)
    with BuildSketch(Plane(origin=(0, -130, 0), x_dir=(0, 1, 0), z_dir=(1, 0, 0))):
        Polygon((0, 0), (0, 21.502151548), (2.5, 20), (2.5, 0.525), (3.025, 0), align=None)
    hole_wizard_m6_3 = revolve(axis=Axis((0, -130, -6.35), (0, 0, 1)), mode=Mode.SUBTRACT)

    # M6 螺纹孔3 at 2: M6 螺纹孔3 ×2
    with Locations(*[Vector(-0.707106781, -0.707106781, 0) * (i * HOLE_WIZARD_M6_3_AT_2_PITCH) for i in range(1, HOLE_WIZARD_M6_3_AT_2_COUNT)]):
        add(hole_wizard_m6_3, mode=Mode.SUBTRACT)

    # M6 螺纹孔3 at 3: M6 螺纹孔3 ×2
    with Locations(*[(0, -i * HOLE_WIZARD_M6_3_AT_3_PITCH, 0) for i in range(1, HOLE_WIZARD_M6_3_AT_3_COUNT)]):
        add(hole_wizard_m6_3, mode=Mode.SUBTRACT)

    # M6 螺纹孔3 at 4: M6 螺纹孔3 ×2
    with Locations(*[Vector(0.707106781, -0.707106781, 0) * (i * HOLE_WIZARD_M6_3_AT_4_PITCH) for i in range(1, HOLE_WIZARD_M6_3_AT_4_COUNT)]):
        add(hole_wizard_m6_3, mode=Mode.SUBTRACT)

    # 镜向4: M6 螺纹孔3 across plane
    add(hole_wizard_m6_3.mirror(Plane.ZX), mode=Mode.SUBTRACT)

    # 镜向4 copy 1 sketch → 镜向4 copy 1 (revolve, cut)
    with BuildSketch(Plane(origin=(-30, 160, 0), x_dir=(0, -1, 0), z_dir=(1, 0, 0))):
        Polygon((0, 0), (0, -21.502151548), (2.5, -20), (2.5, -0.525), (3.025, 0), align=None)
    revolve(axis=Axis((-30, 160, -6.35), (0, 0, -1)), mode=Mode.SUBTRACT)

    # 镜向4 copy 2 sketch → 镜向4 copy 2 (revolve, cut)
    with BuildSketch(Plane(origin=(0, 190, 0), x_dir=(0, -1, 0), z_dir=(1, 0, 0))):
        Polygon((0, 0), (0, -21.502151548), (2.5, -20), (2.5, -0.525), (3.025, 0), align=None)
    revolve(axis=Axis((0, 190, -6.35), (0, 0, -1)), mode=Mode.SUBTRACT)

    # 镜向4 copy 3 sketch → 镜向4 copy 3 (revolve, cut)
    with BuildSketch(Plane(origin=(30, 160, 0), x_dir=(0, -1, 0), z_dir=(1, 0, 0))):
        Polygon((0, 0), (0, -21.502151548), (2.5, -20), (2.5, -0.525), (3.025, 0), align=None)
    revolve(axis=Axis((30, 160, -6.35), (0, 0, -1)), mode=Mode.SUBTRACT)


solid = part.part
